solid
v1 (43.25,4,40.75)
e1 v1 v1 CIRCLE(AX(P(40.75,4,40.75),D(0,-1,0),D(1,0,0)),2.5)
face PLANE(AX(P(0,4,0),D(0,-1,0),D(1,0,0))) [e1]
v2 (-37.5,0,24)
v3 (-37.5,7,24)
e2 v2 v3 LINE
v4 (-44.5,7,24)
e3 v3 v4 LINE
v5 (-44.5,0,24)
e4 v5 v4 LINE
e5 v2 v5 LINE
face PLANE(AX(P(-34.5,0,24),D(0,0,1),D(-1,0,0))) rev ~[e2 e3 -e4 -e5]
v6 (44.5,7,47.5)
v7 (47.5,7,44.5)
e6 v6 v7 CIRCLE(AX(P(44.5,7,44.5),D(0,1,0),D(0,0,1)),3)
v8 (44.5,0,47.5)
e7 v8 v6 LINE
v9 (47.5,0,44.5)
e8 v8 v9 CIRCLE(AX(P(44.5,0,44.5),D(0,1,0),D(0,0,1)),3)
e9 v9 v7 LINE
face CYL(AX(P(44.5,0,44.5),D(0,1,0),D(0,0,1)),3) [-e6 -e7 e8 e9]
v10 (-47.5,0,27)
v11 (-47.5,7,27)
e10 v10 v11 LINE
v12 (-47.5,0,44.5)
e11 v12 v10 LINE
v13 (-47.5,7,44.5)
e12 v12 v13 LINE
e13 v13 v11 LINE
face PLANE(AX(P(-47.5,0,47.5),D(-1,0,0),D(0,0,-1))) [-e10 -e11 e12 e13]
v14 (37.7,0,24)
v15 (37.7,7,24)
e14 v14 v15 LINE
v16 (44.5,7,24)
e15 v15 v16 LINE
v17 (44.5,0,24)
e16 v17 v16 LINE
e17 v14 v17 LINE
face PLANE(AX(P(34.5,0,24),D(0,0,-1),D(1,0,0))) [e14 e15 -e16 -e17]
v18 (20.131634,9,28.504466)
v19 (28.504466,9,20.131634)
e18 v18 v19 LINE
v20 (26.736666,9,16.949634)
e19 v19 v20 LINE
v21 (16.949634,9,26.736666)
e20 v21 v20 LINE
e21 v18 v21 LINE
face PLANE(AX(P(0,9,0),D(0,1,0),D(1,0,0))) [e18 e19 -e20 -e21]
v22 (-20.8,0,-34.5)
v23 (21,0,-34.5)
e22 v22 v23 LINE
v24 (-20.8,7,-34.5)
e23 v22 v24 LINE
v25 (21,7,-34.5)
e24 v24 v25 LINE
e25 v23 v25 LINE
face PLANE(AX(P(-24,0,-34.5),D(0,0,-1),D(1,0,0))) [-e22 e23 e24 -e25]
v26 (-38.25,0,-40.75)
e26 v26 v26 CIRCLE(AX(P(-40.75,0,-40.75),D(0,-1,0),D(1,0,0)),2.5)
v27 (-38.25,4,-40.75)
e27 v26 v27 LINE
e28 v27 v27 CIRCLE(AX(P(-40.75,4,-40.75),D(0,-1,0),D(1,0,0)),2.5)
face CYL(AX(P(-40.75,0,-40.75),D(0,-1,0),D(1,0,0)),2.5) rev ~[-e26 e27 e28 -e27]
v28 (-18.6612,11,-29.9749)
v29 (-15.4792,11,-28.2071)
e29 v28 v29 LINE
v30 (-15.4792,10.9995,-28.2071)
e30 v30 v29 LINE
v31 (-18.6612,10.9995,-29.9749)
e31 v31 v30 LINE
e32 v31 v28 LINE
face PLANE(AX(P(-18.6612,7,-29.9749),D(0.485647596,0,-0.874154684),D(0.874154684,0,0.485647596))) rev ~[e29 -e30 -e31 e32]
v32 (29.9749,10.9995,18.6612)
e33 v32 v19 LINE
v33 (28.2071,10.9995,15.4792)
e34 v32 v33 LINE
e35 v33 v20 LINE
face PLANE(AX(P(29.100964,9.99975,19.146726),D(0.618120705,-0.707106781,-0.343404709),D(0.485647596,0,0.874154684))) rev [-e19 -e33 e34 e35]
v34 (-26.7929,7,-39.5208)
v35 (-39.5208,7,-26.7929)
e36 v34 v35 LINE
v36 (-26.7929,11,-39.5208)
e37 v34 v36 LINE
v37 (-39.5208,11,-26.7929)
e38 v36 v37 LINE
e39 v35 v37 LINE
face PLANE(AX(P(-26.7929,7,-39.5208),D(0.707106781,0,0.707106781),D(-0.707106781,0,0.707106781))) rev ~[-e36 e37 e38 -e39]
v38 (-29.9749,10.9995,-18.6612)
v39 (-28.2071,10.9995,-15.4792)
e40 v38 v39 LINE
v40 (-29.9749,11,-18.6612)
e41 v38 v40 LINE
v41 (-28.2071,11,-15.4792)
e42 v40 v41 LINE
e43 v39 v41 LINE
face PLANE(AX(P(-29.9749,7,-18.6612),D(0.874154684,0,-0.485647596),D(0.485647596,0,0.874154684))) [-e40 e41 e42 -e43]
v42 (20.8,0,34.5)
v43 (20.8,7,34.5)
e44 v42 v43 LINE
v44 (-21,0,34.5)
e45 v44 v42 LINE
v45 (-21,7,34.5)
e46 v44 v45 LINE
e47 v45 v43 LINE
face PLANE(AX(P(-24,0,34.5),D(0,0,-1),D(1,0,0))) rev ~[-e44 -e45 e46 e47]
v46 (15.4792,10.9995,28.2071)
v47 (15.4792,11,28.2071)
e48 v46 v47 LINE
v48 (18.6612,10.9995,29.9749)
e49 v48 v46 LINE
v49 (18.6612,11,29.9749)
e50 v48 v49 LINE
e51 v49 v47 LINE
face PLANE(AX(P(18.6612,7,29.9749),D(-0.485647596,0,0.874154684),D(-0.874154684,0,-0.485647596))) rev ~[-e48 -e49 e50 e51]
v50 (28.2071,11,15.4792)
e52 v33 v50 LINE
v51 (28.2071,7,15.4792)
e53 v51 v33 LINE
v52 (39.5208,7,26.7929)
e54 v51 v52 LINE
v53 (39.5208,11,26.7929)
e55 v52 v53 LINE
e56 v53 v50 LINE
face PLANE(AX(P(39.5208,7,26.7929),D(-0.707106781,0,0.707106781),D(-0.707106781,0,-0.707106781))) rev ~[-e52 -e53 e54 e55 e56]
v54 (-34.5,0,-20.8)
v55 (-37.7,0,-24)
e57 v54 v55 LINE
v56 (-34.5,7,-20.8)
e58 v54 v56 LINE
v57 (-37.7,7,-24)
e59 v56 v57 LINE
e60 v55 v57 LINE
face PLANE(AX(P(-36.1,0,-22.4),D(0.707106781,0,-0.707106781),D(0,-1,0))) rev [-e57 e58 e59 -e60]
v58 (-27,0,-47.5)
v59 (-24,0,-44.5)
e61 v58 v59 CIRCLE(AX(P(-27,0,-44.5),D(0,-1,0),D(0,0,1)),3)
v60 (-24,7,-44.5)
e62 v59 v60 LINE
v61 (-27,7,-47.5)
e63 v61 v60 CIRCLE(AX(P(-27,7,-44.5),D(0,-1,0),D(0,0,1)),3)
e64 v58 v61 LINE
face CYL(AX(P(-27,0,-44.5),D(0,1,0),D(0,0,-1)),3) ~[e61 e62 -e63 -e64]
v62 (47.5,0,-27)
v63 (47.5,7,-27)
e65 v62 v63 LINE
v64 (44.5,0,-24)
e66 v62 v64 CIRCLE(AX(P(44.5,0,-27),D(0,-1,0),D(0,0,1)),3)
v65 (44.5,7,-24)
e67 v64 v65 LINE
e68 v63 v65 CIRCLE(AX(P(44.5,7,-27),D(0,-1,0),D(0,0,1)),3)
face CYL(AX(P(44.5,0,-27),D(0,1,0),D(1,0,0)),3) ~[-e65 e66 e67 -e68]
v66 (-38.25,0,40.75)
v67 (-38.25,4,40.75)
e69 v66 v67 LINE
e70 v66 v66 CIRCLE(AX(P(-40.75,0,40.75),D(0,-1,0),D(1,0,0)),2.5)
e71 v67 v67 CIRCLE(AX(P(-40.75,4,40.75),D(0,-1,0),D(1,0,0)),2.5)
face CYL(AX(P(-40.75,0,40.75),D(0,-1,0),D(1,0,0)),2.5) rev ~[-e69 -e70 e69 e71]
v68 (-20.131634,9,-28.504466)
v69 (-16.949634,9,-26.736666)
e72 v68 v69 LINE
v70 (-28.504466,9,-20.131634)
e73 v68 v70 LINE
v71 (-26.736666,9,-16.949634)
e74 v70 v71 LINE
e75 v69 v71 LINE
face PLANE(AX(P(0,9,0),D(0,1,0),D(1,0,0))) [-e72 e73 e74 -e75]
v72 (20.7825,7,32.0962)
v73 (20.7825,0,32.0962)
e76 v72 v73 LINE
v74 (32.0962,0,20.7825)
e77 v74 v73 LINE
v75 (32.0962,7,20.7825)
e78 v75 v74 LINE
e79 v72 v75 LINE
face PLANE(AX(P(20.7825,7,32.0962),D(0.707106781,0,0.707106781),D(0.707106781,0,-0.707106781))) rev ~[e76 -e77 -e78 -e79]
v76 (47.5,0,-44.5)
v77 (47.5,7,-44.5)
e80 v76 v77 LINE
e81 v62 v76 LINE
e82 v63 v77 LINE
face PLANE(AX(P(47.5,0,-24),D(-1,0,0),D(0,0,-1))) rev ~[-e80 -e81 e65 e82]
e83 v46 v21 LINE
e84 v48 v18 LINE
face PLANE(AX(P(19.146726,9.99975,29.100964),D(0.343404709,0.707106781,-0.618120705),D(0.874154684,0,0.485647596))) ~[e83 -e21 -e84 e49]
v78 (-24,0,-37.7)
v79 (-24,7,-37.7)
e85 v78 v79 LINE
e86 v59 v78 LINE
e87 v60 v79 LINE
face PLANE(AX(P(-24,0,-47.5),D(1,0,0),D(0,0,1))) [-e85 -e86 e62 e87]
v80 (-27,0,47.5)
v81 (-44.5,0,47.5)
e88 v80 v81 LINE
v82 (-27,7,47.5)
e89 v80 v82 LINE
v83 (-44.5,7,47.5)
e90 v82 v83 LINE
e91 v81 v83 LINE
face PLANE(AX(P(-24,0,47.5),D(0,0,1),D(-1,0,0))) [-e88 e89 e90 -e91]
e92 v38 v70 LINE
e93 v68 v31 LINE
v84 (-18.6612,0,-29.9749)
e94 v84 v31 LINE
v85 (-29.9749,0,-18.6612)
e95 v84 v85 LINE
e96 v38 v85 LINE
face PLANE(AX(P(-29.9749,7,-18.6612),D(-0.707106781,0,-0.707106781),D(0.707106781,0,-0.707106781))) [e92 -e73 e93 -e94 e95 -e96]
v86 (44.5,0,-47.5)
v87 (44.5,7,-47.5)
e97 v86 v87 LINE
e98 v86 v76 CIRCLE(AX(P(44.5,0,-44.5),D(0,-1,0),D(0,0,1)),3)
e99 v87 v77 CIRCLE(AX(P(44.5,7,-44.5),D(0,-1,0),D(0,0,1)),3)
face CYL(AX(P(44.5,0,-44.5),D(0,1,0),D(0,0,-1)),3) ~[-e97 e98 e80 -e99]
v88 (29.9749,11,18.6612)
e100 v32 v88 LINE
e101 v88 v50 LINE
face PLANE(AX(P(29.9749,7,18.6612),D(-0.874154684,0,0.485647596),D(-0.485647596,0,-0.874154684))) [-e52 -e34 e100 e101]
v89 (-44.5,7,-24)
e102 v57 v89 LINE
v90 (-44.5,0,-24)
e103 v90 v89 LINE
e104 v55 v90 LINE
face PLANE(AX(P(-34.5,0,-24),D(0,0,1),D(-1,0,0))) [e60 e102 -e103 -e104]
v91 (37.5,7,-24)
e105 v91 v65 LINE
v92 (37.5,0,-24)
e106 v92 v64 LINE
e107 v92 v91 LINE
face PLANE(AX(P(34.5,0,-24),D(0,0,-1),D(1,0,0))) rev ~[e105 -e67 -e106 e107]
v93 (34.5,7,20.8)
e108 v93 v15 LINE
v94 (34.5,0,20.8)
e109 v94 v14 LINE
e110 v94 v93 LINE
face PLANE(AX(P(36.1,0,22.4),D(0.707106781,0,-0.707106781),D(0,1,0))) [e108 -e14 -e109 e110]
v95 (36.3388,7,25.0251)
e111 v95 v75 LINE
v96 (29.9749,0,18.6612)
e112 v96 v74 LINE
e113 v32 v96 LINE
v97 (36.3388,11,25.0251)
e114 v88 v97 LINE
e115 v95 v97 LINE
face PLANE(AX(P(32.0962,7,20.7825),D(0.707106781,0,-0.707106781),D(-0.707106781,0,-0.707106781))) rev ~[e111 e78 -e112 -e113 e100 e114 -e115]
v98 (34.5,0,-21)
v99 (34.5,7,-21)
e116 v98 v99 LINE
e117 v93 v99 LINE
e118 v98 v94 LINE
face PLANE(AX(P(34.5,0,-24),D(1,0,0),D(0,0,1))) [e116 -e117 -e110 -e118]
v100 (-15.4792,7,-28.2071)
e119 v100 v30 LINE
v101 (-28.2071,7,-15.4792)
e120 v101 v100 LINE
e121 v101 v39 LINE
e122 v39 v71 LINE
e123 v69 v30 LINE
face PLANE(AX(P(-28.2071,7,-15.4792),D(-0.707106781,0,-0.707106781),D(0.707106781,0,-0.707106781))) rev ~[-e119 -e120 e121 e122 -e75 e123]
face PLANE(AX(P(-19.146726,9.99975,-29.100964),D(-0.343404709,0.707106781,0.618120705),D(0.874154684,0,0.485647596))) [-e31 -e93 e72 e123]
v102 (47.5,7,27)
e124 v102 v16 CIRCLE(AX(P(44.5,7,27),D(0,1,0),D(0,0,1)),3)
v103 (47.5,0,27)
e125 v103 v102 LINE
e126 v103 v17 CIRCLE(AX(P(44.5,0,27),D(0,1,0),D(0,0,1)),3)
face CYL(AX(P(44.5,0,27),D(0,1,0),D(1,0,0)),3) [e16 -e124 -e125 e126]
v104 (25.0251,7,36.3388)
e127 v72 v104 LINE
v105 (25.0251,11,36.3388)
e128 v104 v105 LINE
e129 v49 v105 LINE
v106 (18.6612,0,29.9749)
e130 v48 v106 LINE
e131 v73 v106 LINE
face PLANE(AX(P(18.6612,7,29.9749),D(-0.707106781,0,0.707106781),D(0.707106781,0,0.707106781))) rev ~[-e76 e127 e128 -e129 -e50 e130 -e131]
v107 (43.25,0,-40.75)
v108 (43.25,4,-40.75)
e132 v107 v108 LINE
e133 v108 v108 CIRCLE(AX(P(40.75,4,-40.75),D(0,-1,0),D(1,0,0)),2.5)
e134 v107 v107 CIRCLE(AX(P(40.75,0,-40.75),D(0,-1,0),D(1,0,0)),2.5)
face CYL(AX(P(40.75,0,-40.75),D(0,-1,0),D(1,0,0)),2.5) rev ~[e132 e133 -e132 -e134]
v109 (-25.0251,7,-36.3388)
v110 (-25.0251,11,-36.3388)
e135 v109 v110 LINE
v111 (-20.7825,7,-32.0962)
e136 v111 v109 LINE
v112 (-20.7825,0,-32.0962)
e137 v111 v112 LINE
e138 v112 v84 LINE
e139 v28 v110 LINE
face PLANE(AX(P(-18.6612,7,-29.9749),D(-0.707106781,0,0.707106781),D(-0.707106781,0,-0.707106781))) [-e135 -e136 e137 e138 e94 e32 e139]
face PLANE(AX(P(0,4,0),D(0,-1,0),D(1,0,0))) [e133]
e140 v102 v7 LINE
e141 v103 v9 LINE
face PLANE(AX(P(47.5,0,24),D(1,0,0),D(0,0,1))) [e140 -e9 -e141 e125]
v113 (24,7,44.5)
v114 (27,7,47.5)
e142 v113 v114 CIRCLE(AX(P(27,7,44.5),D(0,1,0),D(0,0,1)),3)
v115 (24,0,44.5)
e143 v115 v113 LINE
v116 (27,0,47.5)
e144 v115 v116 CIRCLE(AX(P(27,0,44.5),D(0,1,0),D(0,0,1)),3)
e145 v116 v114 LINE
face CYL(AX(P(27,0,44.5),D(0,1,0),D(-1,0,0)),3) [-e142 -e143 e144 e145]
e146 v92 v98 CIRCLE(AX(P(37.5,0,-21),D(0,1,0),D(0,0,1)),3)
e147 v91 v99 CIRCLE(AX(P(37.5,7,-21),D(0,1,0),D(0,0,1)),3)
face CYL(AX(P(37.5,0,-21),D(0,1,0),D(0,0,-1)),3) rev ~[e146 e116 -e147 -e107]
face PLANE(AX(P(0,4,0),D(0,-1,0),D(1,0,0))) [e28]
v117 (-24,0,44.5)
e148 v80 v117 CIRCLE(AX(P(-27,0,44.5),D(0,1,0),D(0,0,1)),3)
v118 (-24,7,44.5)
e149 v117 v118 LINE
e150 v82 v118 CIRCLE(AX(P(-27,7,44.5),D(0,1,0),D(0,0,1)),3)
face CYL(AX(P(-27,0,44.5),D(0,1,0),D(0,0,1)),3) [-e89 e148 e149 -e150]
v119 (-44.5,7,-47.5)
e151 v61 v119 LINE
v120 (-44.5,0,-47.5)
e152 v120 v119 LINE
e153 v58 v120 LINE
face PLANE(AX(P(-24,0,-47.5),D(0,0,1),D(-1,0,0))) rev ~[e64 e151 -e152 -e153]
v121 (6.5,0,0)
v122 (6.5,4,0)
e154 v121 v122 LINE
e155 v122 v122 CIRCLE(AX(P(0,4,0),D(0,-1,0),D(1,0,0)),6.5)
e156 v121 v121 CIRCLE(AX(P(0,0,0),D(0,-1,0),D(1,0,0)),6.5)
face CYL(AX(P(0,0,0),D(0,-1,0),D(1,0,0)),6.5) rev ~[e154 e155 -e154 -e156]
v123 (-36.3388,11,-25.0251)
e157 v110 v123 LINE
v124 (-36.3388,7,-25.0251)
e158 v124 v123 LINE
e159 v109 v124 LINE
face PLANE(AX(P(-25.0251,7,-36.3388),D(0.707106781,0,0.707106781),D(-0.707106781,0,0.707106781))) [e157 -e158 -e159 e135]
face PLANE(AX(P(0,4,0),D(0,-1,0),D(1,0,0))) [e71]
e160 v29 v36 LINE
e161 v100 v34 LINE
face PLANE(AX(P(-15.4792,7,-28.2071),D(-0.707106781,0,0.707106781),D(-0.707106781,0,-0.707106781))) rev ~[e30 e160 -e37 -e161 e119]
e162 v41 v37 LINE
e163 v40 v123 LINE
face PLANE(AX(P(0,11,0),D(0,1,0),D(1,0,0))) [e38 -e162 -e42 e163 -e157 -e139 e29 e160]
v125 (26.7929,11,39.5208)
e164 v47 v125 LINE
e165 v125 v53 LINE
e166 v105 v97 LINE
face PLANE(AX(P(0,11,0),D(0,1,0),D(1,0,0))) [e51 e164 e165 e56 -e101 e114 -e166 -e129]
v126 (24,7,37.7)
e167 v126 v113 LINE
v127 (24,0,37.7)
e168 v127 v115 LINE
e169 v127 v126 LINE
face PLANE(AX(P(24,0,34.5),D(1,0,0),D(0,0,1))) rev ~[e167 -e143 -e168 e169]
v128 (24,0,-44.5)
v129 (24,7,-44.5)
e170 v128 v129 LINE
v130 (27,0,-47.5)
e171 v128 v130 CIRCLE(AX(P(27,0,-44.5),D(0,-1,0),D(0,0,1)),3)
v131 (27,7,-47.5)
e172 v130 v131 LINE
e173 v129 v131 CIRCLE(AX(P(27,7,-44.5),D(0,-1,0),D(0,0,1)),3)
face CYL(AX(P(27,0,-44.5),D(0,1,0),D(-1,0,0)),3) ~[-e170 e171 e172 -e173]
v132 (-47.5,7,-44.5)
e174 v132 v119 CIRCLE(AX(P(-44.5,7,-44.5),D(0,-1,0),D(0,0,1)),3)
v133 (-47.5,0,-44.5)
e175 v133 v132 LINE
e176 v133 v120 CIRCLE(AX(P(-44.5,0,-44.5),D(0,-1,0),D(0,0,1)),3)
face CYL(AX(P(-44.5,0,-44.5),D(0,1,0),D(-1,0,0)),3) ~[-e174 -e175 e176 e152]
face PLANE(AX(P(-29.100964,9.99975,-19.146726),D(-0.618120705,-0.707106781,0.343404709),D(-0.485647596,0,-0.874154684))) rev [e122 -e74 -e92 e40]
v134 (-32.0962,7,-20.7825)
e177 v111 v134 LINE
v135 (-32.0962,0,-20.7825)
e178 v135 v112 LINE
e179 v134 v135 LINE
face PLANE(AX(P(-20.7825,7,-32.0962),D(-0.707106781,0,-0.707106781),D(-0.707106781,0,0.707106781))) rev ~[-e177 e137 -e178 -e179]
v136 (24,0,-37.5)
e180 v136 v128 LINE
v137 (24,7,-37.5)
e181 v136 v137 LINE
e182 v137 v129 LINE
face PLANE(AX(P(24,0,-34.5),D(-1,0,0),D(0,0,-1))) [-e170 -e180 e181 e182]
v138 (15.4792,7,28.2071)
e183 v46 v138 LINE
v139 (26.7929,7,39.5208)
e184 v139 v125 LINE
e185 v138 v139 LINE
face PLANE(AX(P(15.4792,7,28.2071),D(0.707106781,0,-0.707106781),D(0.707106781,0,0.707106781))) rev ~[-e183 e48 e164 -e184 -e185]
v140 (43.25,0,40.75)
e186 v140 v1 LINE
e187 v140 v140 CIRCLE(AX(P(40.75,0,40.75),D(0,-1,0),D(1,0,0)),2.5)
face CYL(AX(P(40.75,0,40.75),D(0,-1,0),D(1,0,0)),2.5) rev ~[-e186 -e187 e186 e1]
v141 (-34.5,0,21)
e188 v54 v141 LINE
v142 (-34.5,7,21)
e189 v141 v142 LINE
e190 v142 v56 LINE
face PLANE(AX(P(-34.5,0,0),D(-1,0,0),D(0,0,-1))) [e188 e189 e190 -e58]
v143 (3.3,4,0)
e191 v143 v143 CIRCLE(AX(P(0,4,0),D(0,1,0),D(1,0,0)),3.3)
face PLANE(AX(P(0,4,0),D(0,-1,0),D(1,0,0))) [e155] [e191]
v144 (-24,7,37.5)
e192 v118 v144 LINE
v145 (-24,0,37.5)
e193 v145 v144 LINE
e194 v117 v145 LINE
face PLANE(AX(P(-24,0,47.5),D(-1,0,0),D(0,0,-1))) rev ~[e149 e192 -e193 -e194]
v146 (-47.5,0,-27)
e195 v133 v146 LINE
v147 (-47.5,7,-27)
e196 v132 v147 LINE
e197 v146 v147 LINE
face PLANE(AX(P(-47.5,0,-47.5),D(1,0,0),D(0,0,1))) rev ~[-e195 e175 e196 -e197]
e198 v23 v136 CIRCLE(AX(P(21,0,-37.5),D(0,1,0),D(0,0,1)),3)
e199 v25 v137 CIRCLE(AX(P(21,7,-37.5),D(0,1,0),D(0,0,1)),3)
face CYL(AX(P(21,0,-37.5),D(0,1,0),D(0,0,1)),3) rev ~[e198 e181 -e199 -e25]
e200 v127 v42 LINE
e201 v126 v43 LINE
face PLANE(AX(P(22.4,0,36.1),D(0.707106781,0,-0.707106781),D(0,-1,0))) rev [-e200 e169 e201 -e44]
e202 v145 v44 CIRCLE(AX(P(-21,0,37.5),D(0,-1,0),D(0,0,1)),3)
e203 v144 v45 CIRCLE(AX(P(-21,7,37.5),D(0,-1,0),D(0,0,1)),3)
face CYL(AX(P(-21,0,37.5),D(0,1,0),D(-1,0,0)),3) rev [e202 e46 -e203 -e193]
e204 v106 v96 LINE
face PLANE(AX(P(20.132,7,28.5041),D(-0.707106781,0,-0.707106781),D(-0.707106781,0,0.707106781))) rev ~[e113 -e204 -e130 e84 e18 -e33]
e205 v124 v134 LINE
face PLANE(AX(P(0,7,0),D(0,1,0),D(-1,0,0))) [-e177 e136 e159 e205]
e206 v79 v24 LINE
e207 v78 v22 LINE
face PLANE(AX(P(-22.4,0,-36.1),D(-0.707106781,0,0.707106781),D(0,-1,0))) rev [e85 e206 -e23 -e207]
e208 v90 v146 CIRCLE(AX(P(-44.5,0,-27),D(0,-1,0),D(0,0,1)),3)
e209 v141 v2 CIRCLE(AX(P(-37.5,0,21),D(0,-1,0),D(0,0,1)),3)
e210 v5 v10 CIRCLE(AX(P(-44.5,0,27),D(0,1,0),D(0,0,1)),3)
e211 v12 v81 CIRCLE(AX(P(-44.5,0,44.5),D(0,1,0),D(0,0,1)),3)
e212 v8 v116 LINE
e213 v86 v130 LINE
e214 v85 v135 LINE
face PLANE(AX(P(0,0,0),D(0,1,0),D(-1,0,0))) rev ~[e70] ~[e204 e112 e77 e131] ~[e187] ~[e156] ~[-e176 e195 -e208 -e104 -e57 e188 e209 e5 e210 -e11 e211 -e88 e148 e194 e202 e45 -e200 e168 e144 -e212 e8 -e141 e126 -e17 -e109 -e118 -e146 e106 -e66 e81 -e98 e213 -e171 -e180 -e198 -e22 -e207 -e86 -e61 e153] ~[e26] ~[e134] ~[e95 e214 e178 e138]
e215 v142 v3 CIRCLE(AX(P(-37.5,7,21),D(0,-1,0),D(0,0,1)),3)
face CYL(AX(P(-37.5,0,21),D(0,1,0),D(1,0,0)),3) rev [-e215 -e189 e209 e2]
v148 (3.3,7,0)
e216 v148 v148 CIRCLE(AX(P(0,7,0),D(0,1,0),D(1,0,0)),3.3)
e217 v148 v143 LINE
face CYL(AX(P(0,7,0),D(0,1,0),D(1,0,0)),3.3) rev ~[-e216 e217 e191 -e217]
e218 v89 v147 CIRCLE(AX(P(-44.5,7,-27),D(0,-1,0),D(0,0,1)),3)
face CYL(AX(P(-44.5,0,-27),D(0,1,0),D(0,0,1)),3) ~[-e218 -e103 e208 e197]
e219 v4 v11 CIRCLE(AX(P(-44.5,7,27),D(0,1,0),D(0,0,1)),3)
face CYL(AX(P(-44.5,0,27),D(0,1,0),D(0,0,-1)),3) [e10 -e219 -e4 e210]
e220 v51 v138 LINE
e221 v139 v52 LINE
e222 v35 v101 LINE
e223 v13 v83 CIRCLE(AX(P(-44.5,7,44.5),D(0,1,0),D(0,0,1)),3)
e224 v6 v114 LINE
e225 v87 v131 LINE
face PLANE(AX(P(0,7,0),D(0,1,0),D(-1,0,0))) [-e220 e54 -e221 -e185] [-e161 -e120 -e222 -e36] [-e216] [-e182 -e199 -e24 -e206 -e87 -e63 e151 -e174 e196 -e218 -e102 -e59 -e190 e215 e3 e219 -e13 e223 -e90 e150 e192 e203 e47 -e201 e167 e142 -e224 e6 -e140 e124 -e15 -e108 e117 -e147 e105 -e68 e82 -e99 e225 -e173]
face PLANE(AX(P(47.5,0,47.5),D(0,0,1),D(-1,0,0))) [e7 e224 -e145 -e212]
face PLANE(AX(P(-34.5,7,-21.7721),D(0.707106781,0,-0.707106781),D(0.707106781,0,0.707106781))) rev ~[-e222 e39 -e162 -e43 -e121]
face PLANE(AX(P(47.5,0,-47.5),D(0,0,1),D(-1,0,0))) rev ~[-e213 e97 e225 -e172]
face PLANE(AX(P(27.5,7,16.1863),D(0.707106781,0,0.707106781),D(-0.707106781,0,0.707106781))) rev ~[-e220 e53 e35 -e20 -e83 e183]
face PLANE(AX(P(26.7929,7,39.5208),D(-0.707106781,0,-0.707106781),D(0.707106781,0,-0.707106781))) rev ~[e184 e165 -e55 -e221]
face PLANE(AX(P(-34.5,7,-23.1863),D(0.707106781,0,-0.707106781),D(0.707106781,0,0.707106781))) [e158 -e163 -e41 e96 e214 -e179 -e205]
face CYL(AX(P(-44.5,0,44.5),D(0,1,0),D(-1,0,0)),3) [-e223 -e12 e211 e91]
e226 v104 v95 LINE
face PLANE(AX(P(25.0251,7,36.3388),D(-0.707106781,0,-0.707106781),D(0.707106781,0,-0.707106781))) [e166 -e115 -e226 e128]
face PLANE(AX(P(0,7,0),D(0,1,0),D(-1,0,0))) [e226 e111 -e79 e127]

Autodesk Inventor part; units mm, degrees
ref_plane "YZ Plane" through (0, 0, 0) normal (1, 0, 0) x (0, 1, 0)
ref_plane "XZ Plane" through (0, 0, 0) normal (0, 1, 0) x (-1, 0, 0)
ref_plane "XY Plane" through (0, 0, 0) normal (0, 0, 1) x (1, 0, 0)
sketch "Boceto1" plane through (0, 0, 0) normal (0, 1, 0) x (-1, 0, 0)
  line L0 (34.5, 0) -> (34.5, 24)
  line L1 (34.5, 24) -> (47.5, 24)
  line L2 (24, 47.5) -> (24, 34.5)
  line L3 (24, 34.5) -> (-24, 34.5)
  line L4 (-24, 34.5) -> (-24, 47.5)
  line L5 (-34.5, 24) -> (-47.5, 24)
  line L6 (47.5, 0) -> (-47.5, 0) construction
  line L7 (-47.5, 47.5) -> (-24, 47.5)
  line L8 (24, 47.5) -> (47.5, 47.5)
  line L9 (-47.5, 24) -> (-47.5, 47.5)
  line L10 (47.5, 47.5) -> (47.5, 24)
  line L11 (-34.5, 24) -> (-34.5, 0)
  line L12 (34.5, 0) -> (34.5, -24)
  line L13 (34.5, -24) -> (47.5, -24)
  line L14 (24, -47.5) -> (24, -34.5)
  line L15 (24, -34.5) -> (-24, -34.5)
  line L16 (-24, -34.5) -> (-24, -47.5)
  line L17 (-34.5, -24) -> (-47.5, -24)
  line L18 (-47.5, -47.5) -> (-24, -47.5)
  line L19 (24, -47.5) -> (47.5, -47.5)
  line L20 (-47.5, -24) -> (-47.5, -47.5)
  line L21 (47.5, -47.5) -> (47.5, -24)
  line L22 (-34.5, -24) -> (-34.5, 0)
  line L23 (-47.5, -47.5) -> (47.5, 47.5) construction
  line L24 (-47.5, 47.5) -> (47.5, -47.5) construction
  point P0 (0, 0)
  point P1 (0, -34.5)
  point P2 (24, 41)
  point P3 (0, 0)
  point P4 (35.75, 47.5)
  dimension "d0" = 95
  dimension "d9" = 13
  dimension "d10" = 23.5
  dimension "d15" = 23.5
  dimension "d71" = 95
extrude "Extrusión1" add sketch "Boceto1" along normal blind 7
chamfer "Chaflán4" distance 3.2 angle 45 4 edges at (24, 3.5, 34.5) (34.5, 3.5, 24) (-24, 3.5, -34.5) (-34.5, 3.5, -24)
sketch "Boceto2" plane through (0, 7, 0) normal (0, 1, 0) x (1, 0, 0)
  line L0 (-27.5, -27.5) -> (27.5, -27.5)
  line L1 (27.5, -27.5) -> (27.5, 27.5)
  line L2 (27.5, 27.5) -> (-27.5, 27.5)
  line L3 (-27.5, 27.5) -> (-27.5, -27.5)
  line L4 (-27.5, -27.5) -> (27.5, 27.5) construction
  line L5 (27.5, -27.5) -> (-27.5, 27.5) construction
  line L6 (-29.9749, 18.6612) -> (-18.6612, 29.9749)
  line L7 (-18.6612, 29.9749) -> (-25.0251, 36.3388)
  line L8 (-25.0251, 36.3388) -> (-36.3388, 25.0251)
  line L9 (-36.3388, 25.0251) -> (-29.9749, 18.6612)
  line L10 (-29.9749, 18.6612) -> (-25.0251, 36.3388) construction
  line L11 (-18.6612, 29.9749) -> (-36.3388, 25.0251) construction
  line L12 (-15.4792, 28.2071) -> (-26.7929, 39.5208)
  line L13 (-26.7929, 39.5208) -> (-39.5208, 26.7929)
  line L14 (-39.5208, 26.7929) -> (-28.2071, 15.4792)
  line L15 (-28.2071, 15.4792) -> (-15.4792, 28.2071)
  line L16 (-15.4792, 28.2071) -> (-39.5208, 26.7929) construction
  line L17 (-26.7929, 39.5208) -> (-28.2071, 15.4792) construction
  line L18 (-34.5, 24) -> (-34.5, -24) projected
  line L19 (-34.5, 0) -> (34.5, 0) construction
  line L20 (34.5, -24) -> (34.5, 24) projected
  line L21 (-18.6612, 29.9749) -> (-15.4792, 28.2071)
  line L22 (-29.9749, 18.6612) -> (-28.2071, 15.4792)
  line L23 (29.9749, -18.6612) -> (18.6612, -29.9749)
  line L24 (18.6612, -29.9749) -> (36.3388, -25.0251) construction
  line L25 (18.6612, -29.9749) -> (15.4792, -28.2071)
  line L26 (15.4792, -28.2071) -> (39.5208, -26.7929) construction
  line L27 (25.0251, -36.3388) -> (36.3388, -25.0251)
  line L28 (29.9749, -18.6612) -> (25.0251, -36.3388) construction
  line L29 (18.6612, -29.9749) -> (25.0251, -36.3388)
  line L30 (26.7929, -39.5208) -> (28.2071, -15.4792) construction
  line L31 (15.4792, -28.2071) -> (26.7929, -39.5208)
  line L32 (26.7929, -39.5208) -> (39.5208, -26.7929)
  line L33 (28.2071, -15.4792) -> (15.4792, -28.2071)
  line L34 (36.3388, -25.0251) -> (29.9749, -18.6612)
  line L35 (29.9749, -18.6612) -> (28.2071, -15.4792)
  line L36 (39.5208, -26.7929) -> (28.2071, -15.4792)
  point P0 (0, 0)
  point P1 (-27.5, 27.5)
  point P2 (27.5, -27.5)
  point P3 (27.5, -27.5)
  point P4 (34.5, -24)
  dimension "d21" = 55
  dimension "d22" = 55
  dimension "d23" = 16
  dimension "d24" = 9
  dimension "d25" = 18
  dimension "d26" = 16
  dimension "d51" = 135
  dimension "d52" = 135
  dimension "d55" = 360
sketch "Boceto3" plane through (0, 0, 0) normal (0, -1, 0) x (1, 0, 0)
  line L0 (47.5, 47.5) -> (47.5, 24) projected
  line L1 (47.5, 47.5) -> (24, 47.5)
  line L2 (24, 47.5) -> (24, 24)
  line L3 (24, 24) -> (47.5, 24)
  line L4 (47.5, 24) -> (47.5, 47.5)
  line L5 (24, 34.5) -> (24, 47.5) projected
  line L6 (47.5, 24) -> (34.5, 24) projected
  circle A0 centre (40.75, 40.75) radius 2.5
  line L7 (0, 48.9307) -> (0, -48.9307) construction
  line L8 (51.06, 0) -> (-51.06, 0) construction
  circle A1 centre (-40.75, 40.75) radius 2.5
  circle A2 centre (-40.75, -40.75) radius 2.5
  circle A3 centre (40.75, -40.75) radius 2.5
  line L9 (47.5, 47.5) -> (24, 24) construction
  line L10 (24, 47.5) -> (47.5, 24) construction
  point P0 (0, 0)
  point P1 (0, 0)
  point P2 (35.75, 35.75)
  dimension "d41" = 5
  dimension "d77" = 360
  dimension "d80" = 5
extrude "Extrusión6" cut sketch "Boceto3" against normal blind 4 contours A0 | A1 | A2 | A3
sketch "Boceto4" plane through (0, 7, 0) normal (0, 1, 0) x (1, 0, 0)
  circle A0 centre (0, 0) radius 3.3
  dimension "d44" = 6.6
extrude "Extrusión7" cut sketch "Boceto4" against normal up to next
sketch "Boceto5" plane through (0, 0, 0) normal (0, -1, 0) x (1, 0, 0)
  circle A0 centre (0, 0) radius 6.5
  dimension "d47" = 13
extrude "Extrusión8" cut sketch "Boceto5" against normal blind 4
extrude "Extrusión9" add sketch "Boceto2" along normal blind 4 contours L25 L29 L27 L34 L20 L36 L32 L31 | L14 L18 L9 L22 | L36 L20 L34 L35 | L14 L13 L12 L21 L7 L8 L9 L18
extrude "Extrusión10" add sketch "Boceto2" along normal blind 2 contours L33 L1 L23 L0 | L0 L23 L25 L33 | L15 L22 L6 L3 | L3 L6 L2 L15 | L33 L35 L23 L1 | L2 L6 L21 L15
chamfer "Chaflán3" distance 2 angle 45 4 edges at (-17.0702, 9, -29.091) (-29.091, 9, -17.0702) (29.091, 9, 17.0702) (17.0702, 9, 29.091)
sketch "Boceto7" plane through (0, 7, 0) normal (0, 1, 0) x (1, 0, 0)
  line L0 (20.7825, -32.0962) -> (32.0962, -20.7825)
  line L1 (32.0962, -20.7825) -> (29.9749, -18.6612)
  line L2 (29.9749, -18.6612) -> (18.6612, -29.9749)
  line L3 (18.6612, -29.9749) -> (20.7825, -32.0962)
  line L4 (20.7825, -32.0962) -> (29.9749, -18.6612) construction
  line L5 (32.0962, -20.7825) -> (18.6612, -29.9749) construction
  line L6 (20.132, -28.5041) -> (28.5041, -20.132) projected
  line L7 (18.6612, -29.9749) -> (25.0251, -36.3388) projected
  line L8 (-20.7825, 32.0962) -> (-32.0962, 20.7825)
  line L9 (-32.0962, 20.7825) -> (-29.9749, 18.6612)
  line L10 (-29.9749, 18.6612) -> (-18.6612, 29.9749)
  line L11 (-18.6612, 29.9749) -> (-20.7825, 32.0962)
  line L12 (-20.7825, 32.0962) -> (-29.9749, 18.6612) construction
  line L13 (-32.0962, 20.7825) -> (-18.6612, 29.9749) construction
  line L14 (36.3388, -25.0251) -> (29.9749, -18.6612) projected
  point P0 (0, 0)
  point P1 (25.3787, -25.3787)
  point P2 (-20.132, 28.5041)
  point P3 (-28.5041, 20.132)
  point P4 (-18.6612, 29.9749)
  point P5 (-25.3787, 25.3787)
  point P6 (33.5, -22.1863)
  dimension "d64" = 3
  dimension "d67" = 360
extrude "Extrusión11" cut sketch "Boceto7" against normal up to next
fillet "Empalme1" radius 3 16 edges at (24, 3.5, 47.5) (47.5, 3.5, 47.5) (47.5, 3.5, 24) (47.5, 3.5, -24) (34.5, 3.5, -24) (47.5, 3.5, -47.5) (24, 3.5, -47.5) (24, 3.5, -34.5) (-24, 3.5, -47.5) (-47.5, 3.5, -47.5) (-47.5, 3.5, -24) (-47.5, 3.5, 24) (-34.5, 3.5, 24) (-47.5, 3.5, 47.5) (-24, 3.5, 47.5) (-24, 3.5, 34.5)
equation "\"d15\" = d13"
equation "\"d13\" = 23.5"
properties part number "SistemaDeDesacople"
